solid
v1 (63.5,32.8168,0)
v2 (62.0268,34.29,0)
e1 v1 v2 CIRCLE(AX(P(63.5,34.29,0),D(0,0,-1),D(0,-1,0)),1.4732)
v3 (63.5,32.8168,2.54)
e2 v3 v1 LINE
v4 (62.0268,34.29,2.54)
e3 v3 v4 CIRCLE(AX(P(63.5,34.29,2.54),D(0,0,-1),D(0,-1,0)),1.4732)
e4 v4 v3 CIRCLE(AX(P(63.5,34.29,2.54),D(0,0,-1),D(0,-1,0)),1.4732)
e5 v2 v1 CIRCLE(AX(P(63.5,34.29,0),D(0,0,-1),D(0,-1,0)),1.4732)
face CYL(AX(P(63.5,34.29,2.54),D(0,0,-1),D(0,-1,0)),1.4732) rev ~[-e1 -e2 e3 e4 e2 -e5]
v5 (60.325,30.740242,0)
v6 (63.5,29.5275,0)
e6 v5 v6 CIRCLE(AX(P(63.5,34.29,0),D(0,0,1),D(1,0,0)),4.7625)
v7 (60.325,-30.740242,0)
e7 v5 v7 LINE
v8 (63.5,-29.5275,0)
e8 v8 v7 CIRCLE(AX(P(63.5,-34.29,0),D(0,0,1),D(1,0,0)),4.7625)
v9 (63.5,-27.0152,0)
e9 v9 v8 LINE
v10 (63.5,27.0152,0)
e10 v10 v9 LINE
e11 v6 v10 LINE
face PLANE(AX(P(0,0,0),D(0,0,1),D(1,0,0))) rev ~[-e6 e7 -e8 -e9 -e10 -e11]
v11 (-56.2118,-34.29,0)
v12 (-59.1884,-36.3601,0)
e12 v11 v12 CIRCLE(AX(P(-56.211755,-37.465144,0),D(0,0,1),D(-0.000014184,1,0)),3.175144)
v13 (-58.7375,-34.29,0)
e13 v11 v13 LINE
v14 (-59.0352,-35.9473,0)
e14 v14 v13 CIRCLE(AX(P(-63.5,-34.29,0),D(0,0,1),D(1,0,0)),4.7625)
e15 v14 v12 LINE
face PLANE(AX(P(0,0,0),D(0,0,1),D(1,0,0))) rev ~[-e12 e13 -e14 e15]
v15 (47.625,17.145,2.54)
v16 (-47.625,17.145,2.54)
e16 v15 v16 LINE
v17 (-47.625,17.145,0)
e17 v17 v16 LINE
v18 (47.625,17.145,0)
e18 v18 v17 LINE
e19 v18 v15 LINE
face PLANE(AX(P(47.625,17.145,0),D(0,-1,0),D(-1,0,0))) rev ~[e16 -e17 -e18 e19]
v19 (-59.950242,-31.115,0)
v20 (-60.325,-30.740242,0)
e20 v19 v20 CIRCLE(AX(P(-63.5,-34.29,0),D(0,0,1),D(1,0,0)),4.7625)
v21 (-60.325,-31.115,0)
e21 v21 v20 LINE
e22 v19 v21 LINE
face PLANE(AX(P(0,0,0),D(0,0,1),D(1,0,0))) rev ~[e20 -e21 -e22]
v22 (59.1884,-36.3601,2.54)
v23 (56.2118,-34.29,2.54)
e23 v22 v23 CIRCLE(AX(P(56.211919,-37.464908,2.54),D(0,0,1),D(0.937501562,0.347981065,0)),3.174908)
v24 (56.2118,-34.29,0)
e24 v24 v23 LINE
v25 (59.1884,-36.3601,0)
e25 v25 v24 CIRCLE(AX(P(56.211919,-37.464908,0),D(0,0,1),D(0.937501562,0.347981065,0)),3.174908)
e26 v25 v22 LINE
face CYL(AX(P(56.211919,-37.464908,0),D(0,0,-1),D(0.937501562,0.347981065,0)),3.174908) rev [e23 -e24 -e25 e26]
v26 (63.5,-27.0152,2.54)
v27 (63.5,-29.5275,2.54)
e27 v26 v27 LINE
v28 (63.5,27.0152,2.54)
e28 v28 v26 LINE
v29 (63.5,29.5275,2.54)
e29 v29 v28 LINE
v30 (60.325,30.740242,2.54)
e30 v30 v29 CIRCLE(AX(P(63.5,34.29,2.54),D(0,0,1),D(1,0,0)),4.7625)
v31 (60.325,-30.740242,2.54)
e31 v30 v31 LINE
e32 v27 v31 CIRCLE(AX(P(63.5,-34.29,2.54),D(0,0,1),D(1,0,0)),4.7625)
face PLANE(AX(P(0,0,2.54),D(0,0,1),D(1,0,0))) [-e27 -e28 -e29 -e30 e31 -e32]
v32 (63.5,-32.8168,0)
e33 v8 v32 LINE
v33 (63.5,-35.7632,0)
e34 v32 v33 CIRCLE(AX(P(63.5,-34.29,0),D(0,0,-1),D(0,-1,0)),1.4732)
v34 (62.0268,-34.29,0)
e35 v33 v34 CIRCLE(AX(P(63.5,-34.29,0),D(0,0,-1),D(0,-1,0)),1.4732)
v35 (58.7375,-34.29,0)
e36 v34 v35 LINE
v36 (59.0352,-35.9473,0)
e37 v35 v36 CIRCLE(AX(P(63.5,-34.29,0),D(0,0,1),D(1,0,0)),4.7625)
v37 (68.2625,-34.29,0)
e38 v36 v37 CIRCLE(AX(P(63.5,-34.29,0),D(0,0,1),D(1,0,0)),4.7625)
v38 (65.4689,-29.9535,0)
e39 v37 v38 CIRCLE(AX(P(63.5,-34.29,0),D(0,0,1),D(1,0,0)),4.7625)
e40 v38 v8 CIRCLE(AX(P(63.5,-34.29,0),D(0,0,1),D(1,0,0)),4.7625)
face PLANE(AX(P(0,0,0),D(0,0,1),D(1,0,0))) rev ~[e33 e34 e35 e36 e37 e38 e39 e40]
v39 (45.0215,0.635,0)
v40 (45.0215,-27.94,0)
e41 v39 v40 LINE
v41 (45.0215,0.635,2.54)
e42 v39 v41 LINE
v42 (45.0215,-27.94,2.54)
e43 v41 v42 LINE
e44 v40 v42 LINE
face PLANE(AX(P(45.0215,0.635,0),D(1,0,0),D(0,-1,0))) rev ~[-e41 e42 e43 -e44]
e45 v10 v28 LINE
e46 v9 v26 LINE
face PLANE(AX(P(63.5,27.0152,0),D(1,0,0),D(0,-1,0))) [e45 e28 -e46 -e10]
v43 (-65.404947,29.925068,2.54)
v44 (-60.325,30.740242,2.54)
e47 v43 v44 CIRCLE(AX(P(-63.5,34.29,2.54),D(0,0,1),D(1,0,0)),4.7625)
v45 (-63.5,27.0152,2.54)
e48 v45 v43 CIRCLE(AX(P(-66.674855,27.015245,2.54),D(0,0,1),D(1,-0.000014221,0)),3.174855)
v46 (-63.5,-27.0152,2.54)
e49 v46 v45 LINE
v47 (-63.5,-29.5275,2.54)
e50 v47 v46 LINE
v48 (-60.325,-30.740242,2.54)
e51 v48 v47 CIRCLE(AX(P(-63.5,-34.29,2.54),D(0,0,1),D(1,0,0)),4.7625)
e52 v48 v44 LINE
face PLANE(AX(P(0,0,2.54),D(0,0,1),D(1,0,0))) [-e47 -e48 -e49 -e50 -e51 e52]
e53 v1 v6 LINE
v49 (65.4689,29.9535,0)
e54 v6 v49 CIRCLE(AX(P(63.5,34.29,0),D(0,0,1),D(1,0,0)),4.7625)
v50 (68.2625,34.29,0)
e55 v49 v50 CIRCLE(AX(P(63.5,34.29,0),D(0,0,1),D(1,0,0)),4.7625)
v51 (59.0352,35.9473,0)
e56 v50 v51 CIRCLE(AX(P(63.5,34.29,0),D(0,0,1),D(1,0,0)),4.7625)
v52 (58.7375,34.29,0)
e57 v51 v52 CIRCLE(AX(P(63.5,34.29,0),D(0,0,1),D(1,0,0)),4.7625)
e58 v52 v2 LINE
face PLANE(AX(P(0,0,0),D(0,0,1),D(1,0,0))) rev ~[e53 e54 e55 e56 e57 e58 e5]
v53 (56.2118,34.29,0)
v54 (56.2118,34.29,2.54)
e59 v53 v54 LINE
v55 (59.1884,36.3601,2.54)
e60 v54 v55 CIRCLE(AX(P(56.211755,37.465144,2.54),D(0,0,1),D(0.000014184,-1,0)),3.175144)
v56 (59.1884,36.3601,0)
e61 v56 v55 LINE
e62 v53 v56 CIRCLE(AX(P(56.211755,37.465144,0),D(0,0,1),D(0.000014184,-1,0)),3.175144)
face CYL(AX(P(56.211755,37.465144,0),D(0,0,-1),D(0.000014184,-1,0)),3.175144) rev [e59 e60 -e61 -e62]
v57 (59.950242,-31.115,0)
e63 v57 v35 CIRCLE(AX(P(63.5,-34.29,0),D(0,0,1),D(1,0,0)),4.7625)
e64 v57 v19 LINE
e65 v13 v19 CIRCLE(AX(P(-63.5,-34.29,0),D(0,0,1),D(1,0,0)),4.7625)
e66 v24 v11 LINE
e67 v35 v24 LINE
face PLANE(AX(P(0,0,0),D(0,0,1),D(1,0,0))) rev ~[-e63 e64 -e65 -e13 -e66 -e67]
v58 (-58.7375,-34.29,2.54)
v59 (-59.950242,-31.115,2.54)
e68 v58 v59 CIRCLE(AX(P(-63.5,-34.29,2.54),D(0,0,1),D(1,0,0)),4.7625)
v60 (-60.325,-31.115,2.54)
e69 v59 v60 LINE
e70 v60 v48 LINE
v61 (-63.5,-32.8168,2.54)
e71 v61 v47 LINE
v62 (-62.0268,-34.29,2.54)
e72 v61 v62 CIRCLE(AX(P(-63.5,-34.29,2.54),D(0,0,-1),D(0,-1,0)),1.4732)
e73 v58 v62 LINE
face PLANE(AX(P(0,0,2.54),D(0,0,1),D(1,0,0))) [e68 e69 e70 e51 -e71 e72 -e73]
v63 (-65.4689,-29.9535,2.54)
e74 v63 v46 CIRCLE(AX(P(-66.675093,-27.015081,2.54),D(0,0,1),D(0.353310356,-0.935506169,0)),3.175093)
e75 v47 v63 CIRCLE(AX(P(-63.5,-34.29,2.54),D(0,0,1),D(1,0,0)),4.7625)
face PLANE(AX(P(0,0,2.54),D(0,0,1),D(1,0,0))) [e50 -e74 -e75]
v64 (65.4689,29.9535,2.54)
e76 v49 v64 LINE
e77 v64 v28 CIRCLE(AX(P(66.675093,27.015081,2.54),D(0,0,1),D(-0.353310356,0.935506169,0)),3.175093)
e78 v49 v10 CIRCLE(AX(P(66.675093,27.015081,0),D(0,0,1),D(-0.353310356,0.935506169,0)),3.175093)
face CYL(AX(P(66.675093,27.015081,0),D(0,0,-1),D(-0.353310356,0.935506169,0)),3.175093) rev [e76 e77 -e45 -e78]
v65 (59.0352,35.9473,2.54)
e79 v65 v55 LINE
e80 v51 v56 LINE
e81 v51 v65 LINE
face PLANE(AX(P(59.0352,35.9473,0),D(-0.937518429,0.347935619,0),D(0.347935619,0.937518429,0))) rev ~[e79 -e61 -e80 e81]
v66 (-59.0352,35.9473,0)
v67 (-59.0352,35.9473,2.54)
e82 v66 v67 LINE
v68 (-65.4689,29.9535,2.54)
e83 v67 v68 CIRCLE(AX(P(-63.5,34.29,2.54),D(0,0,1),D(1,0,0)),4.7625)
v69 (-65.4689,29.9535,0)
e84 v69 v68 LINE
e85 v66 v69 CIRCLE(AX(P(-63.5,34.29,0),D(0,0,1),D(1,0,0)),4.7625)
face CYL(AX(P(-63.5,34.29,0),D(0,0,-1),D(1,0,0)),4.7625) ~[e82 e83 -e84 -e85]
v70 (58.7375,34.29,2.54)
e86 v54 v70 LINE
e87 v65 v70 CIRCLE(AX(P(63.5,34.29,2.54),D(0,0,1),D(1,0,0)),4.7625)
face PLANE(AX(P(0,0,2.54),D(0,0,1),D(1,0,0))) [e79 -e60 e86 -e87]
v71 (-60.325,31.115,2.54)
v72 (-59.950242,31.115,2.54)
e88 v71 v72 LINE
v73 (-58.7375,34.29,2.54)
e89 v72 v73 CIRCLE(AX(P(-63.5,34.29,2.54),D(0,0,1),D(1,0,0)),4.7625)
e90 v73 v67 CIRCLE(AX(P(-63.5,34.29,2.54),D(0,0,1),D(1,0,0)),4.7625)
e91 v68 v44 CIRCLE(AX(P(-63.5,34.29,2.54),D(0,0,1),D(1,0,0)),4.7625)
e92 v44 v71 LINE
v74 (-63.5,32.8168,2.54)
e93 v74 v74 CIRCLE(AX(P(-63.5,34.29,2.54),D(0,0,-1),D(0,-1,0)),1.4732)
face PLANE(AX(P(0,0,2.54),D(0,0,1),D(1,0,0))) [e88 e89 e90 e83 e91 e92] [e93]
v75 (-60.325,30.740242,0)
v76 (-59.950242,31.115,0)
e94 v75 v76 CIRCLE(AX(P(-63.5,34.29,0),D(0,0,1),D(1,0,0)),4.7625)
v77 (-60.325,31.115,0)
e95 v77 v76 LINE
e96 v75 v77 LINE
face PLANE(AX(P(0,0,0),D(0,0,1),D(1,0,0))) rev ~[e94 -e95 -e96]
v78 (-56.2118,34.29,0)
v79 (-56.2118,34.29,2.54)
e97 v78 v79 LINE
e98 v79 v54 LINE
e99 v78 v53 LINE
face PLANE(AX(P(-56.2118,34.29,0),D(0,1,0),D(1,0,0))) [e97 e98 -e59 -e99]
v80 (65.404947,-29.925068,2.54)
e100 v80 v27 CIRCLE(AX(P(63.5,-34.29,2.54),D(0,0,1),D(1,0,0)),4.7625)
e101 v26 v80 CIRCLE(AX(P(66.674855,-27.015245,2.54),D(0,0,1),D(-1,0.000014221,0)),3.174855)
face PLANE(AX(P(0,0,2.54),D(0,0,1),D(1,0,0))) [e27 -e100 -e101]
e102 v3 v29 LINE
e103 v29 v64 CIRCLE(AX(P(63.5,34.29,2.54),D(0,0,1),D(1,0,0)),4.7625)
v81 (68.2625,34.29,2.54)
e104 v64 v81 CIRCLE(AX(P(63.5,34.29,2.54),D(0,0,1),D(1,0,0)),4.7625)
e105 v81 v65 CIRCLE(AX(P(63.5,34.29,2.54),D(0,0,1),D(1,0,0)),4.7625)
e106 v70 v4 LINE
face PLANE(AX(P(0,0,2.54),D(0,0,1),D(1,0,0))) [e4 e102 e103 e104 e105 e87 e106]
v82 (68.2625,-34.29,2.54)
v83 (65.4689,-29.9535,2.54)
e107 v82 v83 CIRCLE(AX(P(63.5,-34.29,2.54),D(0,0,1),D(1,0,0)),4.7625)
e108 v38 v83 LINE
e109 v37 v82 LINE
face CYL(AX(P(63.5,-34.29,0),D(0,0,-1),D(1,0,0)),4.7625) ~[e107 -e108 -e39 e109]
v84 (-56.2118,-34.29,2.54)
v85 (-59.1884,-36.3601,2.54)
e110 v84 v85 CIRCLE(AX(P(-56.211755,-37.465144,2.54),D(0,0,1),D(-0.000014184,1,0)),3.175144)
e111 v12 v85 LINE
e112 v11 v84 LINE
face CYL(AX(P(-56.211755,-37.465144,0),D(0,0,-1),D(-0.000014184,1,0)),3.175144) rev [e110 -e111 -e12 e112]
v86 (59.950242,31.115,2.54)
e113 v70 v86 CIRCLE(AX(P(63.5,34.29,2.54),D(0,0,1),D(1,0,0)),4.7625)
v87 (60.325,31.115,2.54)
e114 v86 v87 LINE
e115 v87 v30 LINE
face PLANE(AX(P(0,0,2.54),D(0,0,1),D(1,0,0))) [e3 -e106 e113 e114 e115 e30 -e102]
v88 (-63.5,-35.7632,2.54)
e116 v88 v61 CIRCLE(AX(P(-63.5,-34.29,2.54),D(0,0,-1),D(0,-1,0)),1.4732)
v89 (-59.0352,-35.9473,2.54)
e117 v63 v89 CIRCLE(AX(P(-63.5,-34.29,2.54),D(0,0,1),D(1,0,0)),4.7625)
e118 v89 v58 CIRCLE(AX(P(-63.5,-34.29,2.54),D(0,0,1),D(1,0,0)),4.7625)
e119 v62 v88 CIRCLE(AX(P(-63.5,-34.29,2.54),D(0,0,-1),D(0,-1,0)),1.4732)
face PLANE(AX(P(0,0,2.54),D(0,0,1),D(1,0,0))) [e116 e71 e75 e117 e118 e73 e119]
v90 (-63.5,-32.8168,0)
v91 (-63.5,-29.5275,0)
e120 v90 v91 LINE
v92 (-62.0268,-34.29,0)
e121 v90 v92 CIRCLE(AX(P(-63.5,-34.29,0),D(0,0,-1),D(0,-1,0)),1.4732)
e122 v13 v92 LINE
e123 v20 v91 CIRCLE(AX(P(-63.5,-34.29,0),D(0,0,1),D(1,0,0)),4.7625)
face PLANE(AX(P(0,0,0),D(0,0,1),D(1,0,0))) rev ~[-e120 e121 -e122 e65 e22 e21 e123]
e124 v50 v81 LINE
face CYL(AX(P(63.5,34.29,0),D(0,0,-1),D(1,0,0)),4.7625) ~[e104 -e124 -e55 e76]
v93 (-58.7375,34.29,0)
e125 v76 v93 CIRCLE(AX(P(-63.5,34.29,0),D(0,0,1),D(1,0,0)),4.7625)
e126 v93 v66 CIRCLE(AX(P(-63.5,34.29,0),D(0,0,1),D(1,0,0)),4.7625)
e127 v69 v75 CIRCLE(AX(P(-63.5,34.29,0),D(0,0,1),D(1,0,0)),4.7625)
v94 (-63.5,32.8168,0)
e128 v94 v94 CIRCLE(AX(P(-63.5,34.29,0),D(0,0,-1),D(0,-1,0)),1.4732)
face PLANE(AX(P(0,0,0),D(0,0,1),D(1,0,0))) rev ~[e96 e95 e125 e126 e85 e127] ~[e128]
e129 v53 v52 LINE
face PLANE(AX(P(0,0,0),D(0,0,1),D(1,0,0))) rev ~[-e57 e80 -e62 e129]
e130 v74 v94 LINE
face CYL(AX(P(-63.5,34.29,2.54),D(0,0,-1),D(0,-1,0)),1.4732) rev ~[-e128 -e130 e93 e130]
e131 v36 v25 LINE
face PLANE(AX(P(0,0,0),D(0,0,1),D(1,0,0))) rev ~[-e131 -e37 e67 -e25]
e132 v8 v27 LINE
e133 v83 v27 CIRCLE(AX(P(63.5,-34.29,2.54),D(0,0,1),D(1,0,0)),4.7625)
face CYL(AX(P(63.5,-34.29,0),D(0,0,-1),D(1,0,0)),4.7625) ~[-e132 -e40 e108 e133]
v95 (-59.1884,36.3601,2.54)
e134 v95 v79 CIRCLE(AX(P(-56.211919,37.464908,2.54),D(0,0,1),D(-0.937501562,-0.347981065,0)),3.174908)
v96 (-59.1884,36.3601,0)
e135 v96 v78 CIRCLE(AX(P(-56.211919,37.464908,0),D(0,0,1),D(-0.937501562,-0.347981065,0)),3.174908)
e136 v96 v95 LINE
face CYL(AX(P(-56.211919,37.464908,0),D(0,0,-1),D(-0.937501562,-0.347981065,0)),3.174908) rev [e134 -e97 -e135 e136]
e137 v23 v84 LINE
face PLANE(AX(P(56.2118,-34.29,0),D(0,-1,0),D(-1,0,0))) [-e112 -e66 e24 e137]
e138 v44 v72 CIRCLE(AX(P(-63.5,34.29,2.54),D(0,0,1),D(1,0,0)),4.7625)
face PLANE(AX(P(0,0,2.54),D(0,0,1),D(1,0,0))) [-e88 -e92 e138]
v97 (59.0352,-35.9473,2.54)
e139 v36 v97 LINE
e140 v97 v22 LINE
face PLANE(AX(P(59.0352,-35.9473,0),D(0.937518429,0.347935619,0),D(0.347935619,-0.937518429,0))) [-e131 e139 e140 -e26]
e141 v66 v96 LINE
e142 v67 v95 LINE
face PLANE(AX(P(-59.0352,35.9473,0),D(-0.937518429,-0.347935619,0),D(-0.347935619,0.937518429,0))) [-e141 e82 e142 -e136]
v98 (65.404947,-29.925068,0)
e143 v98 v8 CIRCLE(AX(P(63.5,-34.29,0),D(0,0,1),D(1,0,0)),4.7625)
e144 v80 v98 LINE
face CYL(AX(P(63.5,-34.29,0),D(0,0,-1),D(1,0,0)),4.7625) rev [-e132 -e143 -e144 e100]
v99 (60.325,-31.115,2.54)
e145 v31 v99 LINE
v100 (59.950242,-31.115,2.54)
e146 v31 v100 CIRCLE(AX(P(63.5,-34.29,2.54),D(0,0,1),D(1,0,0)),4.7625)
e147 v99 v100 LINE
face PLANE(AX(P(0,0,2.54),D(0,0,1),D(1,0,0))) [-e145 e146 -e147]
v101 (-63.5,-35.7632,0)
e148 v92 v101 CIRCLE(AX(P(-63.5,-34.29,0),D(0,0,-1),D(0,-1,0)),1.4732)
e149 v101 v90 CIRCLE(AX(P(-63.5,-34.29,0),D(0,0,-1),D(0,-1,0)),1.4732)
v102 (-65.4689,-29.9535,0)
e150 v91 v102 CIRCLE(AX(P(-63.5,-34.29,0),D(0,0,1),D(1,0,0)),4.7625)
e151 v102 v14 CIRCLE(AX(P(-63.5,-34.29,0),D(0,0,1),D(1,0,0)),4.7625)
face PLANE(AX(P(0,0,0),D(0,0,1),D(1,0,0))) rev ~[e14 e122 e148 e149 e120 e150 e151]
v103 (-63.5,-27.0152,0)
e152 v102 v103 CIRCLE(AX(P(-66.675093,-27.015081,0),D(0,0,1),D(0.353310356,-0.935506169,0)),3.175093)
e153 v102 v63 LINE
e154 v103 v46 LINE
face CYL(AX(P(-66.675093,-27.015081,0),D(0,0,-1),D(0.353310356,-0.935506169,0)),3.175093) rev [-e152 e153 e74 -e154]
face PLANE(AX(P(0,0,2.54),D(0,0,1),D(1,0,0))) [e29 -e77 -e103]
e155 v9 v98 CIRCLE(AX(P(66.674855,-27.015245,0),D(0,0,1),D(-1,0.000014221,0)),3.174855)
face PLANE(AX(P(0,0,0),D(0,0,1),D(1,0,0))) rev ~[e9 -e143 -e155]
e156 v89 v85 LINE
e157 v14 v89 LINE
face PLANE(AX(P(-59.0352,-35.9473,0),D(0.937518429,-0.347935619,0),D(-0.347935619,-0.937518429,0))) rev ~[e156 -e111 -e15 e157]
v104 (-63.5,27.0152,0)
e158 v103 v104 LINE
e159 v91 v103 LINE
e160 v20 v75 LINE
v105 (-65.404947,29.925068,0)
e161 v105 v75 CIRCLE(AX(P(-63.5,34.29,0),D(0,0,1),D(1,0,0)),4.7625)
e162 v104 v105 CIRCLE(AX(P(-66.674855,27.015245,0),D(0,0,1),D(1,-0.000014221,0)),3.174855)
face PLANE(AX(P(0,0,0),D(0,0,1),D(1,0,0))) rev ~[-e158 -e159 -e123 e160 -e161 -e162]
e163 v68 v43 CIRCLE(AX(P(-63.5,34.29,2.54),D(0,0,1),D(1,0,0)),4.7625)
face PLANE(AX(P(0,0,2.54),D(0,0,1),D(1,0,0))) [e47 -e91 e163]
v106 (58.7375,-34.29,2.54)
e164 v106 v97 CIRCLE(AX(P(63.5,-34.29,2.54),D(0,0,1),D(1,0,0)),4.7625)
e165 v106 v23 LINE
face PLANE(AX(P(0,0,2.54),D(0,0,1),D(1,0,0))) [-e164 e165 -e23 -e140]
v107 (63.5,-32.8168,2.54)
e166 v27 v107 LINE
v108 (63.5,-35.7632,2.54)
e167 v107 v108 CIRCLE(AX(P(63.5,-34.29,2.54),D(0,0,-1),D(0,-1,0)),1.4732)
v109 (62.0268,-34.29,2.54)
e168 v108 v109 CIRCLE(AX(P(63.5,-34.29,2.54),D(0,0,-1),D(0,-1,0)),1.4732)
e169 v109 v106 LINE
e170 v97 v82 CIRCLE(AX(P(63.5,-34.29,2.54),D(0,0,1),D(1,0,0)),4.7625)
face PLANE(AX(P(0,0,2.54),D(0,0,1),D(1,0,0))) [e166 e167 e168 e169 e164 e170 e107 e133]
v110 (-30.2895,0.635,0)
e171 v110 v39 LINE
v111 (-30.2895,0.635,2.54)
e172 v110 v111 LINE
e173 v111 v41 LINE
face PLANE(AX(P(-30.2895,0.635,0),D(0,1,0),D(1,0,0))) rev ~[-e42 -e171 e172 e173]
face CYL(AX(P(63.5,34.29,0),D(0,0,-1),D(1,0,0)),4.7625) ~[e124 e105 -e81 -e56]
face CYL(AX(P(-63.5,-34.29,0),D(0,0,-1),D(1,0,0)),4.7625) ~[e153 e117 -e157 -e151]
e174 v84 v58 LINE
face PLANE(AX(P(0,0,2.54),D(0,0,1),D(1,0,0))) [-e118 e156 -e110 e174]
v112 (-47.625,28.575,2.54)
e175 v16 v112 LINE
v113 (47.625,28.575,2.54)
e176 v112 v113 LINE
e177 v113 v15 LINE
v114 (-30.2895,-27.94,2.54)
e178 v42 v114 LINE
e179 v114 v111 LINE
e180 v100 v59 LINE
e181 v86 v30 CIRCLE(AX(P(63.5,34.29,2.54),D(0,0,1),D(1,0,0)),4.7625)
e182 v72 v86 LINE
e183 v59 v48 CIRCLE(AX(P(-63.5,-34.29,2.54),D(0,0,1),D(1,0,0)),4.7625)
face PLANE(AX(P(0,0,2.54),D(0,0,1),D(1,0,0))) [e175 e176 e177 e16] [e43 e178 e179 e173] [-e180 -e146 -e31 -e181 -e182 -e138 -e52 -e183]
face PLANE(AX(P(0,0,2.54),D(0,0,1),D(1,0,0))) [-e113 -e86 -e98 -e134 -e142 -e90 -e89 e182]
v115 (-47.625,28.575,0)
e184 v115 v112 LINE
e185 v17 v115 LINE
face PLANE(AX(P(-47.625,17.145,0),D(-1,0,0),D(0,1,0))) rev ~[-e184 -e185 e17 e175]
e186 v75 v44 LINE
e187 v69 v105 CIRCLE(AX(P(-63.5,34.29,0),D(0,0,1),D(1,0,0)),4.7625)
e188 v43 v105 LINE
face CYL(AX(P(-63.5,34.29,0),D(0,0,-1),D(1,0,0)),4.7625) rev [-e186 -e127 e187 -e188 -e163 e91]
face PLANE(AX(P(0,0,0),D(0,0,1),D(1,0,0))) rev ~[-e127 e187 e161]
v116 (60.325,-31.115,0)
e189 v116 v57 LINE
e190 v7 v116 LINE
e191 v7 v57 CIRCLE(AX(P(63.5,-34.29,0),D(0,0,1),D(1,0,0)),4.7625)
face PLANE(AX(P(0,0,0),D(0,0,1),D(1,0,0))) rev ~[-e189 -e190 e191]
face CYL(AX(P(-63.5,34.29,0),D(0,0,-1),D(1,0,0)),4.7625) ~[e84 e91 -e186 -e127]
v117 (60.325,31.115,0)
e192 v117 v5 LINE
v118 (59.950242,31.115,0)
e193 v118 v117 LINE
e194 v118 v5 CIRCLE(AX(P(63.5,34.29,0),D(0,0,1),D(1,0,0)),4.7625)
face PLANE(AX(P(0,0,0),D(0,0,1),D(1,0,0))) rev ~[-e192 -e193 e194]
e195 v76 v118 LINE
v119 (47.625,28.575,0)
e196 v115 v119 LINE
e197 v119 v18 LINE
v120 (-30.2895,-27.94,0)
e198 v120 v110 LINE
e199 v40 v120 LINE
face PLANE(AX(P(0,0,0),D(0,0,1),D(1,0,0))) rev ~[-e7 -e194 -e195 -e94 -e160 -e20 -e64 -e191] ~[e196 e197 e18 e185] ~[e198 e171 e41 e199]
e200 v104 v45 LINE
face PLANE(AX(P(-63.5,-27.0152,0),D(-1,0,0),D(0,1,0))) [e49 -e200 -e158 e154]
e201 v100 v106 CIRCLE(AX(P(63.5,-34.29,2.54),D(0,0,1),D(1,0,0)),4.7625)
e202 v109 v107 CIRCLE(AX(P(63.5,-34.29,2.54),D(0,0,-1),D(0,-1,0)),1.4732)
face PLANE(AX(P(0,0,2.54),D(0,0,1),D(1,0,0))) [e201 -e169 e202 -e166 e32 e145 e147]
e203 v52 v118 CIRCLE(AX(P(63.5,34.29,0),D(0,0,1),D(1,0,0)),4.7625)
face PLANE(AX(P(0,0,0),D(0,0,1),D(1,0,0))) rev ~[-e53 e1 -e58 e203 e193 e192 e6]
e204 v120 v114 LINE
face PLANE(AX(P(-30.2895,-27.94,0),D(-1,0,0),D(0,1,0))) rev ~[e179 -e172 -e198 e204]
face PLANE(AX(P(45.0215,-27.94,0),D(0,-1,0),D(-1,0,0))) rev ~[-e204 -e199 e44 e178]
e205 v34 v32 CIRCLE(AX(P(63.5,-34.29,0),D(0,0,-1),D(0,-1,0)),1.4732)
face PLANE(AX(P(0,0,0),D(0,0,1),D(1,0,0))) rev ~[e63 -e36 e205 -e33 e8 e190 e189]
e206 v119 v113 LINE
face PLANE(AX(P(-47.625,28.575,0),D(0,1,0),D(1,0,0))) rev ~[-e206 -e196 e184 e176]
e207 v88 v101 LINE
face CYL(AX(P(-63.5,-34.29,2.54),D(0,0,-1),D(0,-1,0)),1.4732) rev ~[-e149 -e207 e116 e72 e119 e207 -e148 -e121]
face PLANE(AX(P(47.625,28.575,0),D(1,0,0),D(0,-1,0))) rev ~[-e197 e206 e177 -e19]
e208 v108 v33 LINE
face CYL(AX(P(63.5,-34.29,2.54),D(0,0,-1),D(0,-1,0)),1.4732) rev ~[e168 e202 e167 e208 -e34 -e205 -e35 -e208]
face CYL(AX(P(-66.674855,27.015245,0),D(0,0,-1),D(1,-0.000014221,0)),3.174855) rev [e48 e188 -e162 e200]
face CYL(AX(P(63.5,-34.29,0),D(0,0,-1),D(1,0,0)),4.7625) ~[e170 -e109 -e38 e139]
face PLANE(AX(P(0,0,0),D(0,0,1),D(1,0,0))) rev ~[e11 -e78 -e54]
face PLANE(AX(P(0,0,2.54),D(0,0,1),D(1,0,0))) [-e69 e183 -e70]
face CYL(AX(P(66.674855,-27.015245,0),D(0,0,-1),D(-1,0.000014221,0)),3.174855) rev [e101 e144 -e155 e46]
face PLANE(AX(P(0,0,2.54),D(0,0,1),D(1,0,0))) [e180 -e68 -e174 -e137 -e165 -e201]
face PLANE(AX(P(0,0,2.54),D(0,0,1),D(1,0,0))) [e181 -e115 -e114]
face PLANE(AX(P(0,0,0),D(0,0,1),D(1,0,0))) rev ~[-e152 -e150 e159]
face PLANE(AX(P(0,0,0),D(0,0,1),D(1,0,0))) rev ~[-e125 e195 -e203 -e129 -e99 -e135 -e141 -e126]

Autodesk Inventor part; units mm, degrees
ref_plane "YZ Plane" through (0, 0, 0) normal (1, 0, 0) x (0, 1, 0)
ref_plane "XZ Plane" through (0, 0, 0) normal (0, 1, 0) x (-1, 0, 0)
ref_plane "XY Plane" through (0, 0, 0) normal (0, 0, 1) x (1, 0, 0)
sketch "Sketch1" plane through (0, 0, 0) normal (0, 0, 1) x (1, 0, 0)
  line L0 (-56.2118, 34.29) -> (63.5, 34.29)
  line L1 (63.5, 34.29) -> (63.5, -34.29)
  line L2 (63.5, -34.29) -> (-63.5, -34.29)
  line L3 (-63.5, -34.29) -> (-63.5, 27.0152)
  line L4 (0, 0) -> (-113.7275, 61.4128) construction
  line L5 (-60.325, 31.115) -> (60.325, 31.115)
  line L6 (60.325, 31.115) -> (60.325, -31.115)
  line L7 (60.325, -31.115) -> (-60.325, -31.115)
  line L8 (-60.325, -31.115) -> (-60.325, 31.115)
  circle A0 centre (-63.5, 34.29) radius 4.7625
  line L9 (-59.0352, 35.9473) -> (-59.1884, 36.3601)
  line L10 (-65.4689, 29.9535) -> (-65.5533, 29.9854)
  arc A1 (-63.5, 27.0152) -> (-65.5533, 29.9854) centre (-66.675, 27.0152) ccw
  arc A2 (-59.1884, 36.3601) -> (-56.2118, 34.29) centre (-56.2118, 37.465) ccw
  line L11 (0, 55.5625) -> (0, -55.5625) construction
  line L12 (-104.775, 0) -> (104.775, 0) construction
  circle A3 centre (63.5, 34.29) radius 4.7625
  line L13 (59.0352, 35.9473) -> (59.1884, 36.3601)
  line L14 (65.4689, 29.9535) -> (65.5533, 29.9854)
  arc A4 (65.5533, 29.9854) -> (63.5, 27.0152) centre (66.675, 27.0152) ccw
  arc A5 (56.2118, 34.29) -> (59.1884, 36.3601) centre (56.2118, 37.465) ccw
  line L15 (104.775, 0) -> (-104.775, 0) construction
  circle A6 centre (-63.5, -34.29) radius 4.7625
  line L16 (-59.0352, -35.9473) -> (-59.1884, -36.3601)
  line L17 (-65.4689, -29.9535) -> (-65.5533, -29.9854)
  arc A7 (-65.5533, -29.9854) -> (-63.5, -27.0152) centre (-66.675, -27.0152) ccw
  arc A8 (-56.2118, -34.29) -> (-59.1884, -36.3601) centre (-56.2118, -37.465) ccw
  circle A9 centre (63.5, -34.29) radius 4.7625
  line L18 (65.4689, -29.9535) -> (65.5533, -29.9854)
  arc A10 (63.5, -27.0152) -> (65.5533, -29.9854) centre (66.675, -27.0152) ccw
  line L19 (59.0352, -35.9473) -> (59.1884, -36.3601)
  arc A11 (59.1884, -36.3601) -> (56.2118, -34.29) centre (56.2118, -37.465) ccw
  line L20 (-30.2895, 0.635) -> (45.0215, 0.635)
  line L21 (45.0215, 0.635) -> (45.0215, -27.94)
  line L22 (45.0215, -27.94) -> (-30.2895, -27.94)
  line L23 (-30.2895, -27.94) -> (-30.2895, 0.635)
  line L24 (-47.625, 28.575) -> (47.625, 28.575)
  line L25 (47.625, 28.575) -> (47.625, 17.145)
  line L26 (47.625, 17.145) -> (-47.625, 17.145)
  line L27 (-47.625, 17.145) -> (-47.625, 28.575)
  point P0 (-58.42, 34.29)
  point P1 (-63.5, 29.21)
  point P2 (56.2118, 34.29)
  point P3 (-63.5, -27.0152)
  point P4 (56.2118, -34.29)
  point P5 (63.5, -27.0152)
  point P6 (63.5, 27.0152)
  point P7 (-59.9502, -31.115)
  point P8 (-60.325, -30.7402)
  point P9 (59.9502, -31.115)
  point P10 (60.325, -30.7402)
  point P11 (-60.325, 30.7402)
  point P12 (-59.9502, 31.115)
  point P13 (-66.6527, 30.7204)
  point P14 (-66.6527, -30.7204)
  point P15 (66.6527, -30.7204)
  point P16 (66.6527, 30.7204)
  point P17 (-65.405, 29.9251)
  point P18 (-65.405, -29.9251)
  point P19 (65.405, -29.9251)
  point P20 (65.405, 29.9251)
  dimension "d8" = 63.5
  dimension "d9" = 63.5
  dimension "d10" = 34.29
  dimension "d11" = 34.29
  dimension "d15" = 60.325
  dimension "d16" = 60.325
  dimension "d17" = 62.23
  dimension "d18" = 31.115
  dimension "d19" = 9.525
  dimension "d20" = 5.08
  dimension "d21" = 5.08
  dimension "d22" = 3.175
  dimension "d25" = 48.26
  dimension "d26" = 59.69
  dimension "d27" = 12.7
  dimension "d28" = 107.95
  dimension "d29" = 30.0355
  dimension "d30" = 105.3465
  dimension "d31" = 3.175
  dimension "d32" = 31.75
extrude "Extrusion1" add sketch "Sketch1" along normal blind 2.54
sketch "Sketch2" plane through (0, 0, 2.54) normal (0, 0, 1) x (1, 0, 0)
  circle A0 centre (-63.5, 34.29) radius 2.2451
  circle A1 centre (-63.5, -34.29) radius 1.7045
  circle A2 centre (63.5, 34.29) radius 1.7045
  circle A3 centre (63.5, -34.29) radius 1.5875
  arc A4 (-59.0352, 35.9473) -> (-65.405, 29.9251) centre (-63.5, 34.29) ccw projected
  arc A5 (-65.405, -29.9251) -> (-59.0352, -35.9473) centre (-63.5, -34.29) ccw projected
  arc A6 (65.405, 29.9251) -> (59.0352, 35.9473) centre (63.5, 34.29) ccw projected
  arc A7 (59.0352, -35.9473) -> (65.405, -29.9251) centre (63.5, -34.29) ccw projected
  point P0 (0, 0)
  point P1 (-66.6527, 30.7204)
  point P2 (-66.6527, -30.7204)
  point P3 (66.6527, 30.7204)
  point P4 (66.6527, -30.7204)
hole "Hole1" at (-63.5, -34.29, 2.54) at (-63.5, 34.29, 2.54) at (63.5, 34.29, 2.54) at (63.5, -34.29, 2.54) direction (0, 0, -1) diameter 2.9464 end through all clearance for "Socket Head Cap Screw" size "#4" standard "Ansi Unified Screw Threads"
equation "\"d9\" = d8"
equation "\"d11\" = d10"
equation "\"d16\" = d15"
equation "\"d18\" = 0.5 * d17"
equation "\"d20\" = d21"
properties part number "cover_top_v3"
